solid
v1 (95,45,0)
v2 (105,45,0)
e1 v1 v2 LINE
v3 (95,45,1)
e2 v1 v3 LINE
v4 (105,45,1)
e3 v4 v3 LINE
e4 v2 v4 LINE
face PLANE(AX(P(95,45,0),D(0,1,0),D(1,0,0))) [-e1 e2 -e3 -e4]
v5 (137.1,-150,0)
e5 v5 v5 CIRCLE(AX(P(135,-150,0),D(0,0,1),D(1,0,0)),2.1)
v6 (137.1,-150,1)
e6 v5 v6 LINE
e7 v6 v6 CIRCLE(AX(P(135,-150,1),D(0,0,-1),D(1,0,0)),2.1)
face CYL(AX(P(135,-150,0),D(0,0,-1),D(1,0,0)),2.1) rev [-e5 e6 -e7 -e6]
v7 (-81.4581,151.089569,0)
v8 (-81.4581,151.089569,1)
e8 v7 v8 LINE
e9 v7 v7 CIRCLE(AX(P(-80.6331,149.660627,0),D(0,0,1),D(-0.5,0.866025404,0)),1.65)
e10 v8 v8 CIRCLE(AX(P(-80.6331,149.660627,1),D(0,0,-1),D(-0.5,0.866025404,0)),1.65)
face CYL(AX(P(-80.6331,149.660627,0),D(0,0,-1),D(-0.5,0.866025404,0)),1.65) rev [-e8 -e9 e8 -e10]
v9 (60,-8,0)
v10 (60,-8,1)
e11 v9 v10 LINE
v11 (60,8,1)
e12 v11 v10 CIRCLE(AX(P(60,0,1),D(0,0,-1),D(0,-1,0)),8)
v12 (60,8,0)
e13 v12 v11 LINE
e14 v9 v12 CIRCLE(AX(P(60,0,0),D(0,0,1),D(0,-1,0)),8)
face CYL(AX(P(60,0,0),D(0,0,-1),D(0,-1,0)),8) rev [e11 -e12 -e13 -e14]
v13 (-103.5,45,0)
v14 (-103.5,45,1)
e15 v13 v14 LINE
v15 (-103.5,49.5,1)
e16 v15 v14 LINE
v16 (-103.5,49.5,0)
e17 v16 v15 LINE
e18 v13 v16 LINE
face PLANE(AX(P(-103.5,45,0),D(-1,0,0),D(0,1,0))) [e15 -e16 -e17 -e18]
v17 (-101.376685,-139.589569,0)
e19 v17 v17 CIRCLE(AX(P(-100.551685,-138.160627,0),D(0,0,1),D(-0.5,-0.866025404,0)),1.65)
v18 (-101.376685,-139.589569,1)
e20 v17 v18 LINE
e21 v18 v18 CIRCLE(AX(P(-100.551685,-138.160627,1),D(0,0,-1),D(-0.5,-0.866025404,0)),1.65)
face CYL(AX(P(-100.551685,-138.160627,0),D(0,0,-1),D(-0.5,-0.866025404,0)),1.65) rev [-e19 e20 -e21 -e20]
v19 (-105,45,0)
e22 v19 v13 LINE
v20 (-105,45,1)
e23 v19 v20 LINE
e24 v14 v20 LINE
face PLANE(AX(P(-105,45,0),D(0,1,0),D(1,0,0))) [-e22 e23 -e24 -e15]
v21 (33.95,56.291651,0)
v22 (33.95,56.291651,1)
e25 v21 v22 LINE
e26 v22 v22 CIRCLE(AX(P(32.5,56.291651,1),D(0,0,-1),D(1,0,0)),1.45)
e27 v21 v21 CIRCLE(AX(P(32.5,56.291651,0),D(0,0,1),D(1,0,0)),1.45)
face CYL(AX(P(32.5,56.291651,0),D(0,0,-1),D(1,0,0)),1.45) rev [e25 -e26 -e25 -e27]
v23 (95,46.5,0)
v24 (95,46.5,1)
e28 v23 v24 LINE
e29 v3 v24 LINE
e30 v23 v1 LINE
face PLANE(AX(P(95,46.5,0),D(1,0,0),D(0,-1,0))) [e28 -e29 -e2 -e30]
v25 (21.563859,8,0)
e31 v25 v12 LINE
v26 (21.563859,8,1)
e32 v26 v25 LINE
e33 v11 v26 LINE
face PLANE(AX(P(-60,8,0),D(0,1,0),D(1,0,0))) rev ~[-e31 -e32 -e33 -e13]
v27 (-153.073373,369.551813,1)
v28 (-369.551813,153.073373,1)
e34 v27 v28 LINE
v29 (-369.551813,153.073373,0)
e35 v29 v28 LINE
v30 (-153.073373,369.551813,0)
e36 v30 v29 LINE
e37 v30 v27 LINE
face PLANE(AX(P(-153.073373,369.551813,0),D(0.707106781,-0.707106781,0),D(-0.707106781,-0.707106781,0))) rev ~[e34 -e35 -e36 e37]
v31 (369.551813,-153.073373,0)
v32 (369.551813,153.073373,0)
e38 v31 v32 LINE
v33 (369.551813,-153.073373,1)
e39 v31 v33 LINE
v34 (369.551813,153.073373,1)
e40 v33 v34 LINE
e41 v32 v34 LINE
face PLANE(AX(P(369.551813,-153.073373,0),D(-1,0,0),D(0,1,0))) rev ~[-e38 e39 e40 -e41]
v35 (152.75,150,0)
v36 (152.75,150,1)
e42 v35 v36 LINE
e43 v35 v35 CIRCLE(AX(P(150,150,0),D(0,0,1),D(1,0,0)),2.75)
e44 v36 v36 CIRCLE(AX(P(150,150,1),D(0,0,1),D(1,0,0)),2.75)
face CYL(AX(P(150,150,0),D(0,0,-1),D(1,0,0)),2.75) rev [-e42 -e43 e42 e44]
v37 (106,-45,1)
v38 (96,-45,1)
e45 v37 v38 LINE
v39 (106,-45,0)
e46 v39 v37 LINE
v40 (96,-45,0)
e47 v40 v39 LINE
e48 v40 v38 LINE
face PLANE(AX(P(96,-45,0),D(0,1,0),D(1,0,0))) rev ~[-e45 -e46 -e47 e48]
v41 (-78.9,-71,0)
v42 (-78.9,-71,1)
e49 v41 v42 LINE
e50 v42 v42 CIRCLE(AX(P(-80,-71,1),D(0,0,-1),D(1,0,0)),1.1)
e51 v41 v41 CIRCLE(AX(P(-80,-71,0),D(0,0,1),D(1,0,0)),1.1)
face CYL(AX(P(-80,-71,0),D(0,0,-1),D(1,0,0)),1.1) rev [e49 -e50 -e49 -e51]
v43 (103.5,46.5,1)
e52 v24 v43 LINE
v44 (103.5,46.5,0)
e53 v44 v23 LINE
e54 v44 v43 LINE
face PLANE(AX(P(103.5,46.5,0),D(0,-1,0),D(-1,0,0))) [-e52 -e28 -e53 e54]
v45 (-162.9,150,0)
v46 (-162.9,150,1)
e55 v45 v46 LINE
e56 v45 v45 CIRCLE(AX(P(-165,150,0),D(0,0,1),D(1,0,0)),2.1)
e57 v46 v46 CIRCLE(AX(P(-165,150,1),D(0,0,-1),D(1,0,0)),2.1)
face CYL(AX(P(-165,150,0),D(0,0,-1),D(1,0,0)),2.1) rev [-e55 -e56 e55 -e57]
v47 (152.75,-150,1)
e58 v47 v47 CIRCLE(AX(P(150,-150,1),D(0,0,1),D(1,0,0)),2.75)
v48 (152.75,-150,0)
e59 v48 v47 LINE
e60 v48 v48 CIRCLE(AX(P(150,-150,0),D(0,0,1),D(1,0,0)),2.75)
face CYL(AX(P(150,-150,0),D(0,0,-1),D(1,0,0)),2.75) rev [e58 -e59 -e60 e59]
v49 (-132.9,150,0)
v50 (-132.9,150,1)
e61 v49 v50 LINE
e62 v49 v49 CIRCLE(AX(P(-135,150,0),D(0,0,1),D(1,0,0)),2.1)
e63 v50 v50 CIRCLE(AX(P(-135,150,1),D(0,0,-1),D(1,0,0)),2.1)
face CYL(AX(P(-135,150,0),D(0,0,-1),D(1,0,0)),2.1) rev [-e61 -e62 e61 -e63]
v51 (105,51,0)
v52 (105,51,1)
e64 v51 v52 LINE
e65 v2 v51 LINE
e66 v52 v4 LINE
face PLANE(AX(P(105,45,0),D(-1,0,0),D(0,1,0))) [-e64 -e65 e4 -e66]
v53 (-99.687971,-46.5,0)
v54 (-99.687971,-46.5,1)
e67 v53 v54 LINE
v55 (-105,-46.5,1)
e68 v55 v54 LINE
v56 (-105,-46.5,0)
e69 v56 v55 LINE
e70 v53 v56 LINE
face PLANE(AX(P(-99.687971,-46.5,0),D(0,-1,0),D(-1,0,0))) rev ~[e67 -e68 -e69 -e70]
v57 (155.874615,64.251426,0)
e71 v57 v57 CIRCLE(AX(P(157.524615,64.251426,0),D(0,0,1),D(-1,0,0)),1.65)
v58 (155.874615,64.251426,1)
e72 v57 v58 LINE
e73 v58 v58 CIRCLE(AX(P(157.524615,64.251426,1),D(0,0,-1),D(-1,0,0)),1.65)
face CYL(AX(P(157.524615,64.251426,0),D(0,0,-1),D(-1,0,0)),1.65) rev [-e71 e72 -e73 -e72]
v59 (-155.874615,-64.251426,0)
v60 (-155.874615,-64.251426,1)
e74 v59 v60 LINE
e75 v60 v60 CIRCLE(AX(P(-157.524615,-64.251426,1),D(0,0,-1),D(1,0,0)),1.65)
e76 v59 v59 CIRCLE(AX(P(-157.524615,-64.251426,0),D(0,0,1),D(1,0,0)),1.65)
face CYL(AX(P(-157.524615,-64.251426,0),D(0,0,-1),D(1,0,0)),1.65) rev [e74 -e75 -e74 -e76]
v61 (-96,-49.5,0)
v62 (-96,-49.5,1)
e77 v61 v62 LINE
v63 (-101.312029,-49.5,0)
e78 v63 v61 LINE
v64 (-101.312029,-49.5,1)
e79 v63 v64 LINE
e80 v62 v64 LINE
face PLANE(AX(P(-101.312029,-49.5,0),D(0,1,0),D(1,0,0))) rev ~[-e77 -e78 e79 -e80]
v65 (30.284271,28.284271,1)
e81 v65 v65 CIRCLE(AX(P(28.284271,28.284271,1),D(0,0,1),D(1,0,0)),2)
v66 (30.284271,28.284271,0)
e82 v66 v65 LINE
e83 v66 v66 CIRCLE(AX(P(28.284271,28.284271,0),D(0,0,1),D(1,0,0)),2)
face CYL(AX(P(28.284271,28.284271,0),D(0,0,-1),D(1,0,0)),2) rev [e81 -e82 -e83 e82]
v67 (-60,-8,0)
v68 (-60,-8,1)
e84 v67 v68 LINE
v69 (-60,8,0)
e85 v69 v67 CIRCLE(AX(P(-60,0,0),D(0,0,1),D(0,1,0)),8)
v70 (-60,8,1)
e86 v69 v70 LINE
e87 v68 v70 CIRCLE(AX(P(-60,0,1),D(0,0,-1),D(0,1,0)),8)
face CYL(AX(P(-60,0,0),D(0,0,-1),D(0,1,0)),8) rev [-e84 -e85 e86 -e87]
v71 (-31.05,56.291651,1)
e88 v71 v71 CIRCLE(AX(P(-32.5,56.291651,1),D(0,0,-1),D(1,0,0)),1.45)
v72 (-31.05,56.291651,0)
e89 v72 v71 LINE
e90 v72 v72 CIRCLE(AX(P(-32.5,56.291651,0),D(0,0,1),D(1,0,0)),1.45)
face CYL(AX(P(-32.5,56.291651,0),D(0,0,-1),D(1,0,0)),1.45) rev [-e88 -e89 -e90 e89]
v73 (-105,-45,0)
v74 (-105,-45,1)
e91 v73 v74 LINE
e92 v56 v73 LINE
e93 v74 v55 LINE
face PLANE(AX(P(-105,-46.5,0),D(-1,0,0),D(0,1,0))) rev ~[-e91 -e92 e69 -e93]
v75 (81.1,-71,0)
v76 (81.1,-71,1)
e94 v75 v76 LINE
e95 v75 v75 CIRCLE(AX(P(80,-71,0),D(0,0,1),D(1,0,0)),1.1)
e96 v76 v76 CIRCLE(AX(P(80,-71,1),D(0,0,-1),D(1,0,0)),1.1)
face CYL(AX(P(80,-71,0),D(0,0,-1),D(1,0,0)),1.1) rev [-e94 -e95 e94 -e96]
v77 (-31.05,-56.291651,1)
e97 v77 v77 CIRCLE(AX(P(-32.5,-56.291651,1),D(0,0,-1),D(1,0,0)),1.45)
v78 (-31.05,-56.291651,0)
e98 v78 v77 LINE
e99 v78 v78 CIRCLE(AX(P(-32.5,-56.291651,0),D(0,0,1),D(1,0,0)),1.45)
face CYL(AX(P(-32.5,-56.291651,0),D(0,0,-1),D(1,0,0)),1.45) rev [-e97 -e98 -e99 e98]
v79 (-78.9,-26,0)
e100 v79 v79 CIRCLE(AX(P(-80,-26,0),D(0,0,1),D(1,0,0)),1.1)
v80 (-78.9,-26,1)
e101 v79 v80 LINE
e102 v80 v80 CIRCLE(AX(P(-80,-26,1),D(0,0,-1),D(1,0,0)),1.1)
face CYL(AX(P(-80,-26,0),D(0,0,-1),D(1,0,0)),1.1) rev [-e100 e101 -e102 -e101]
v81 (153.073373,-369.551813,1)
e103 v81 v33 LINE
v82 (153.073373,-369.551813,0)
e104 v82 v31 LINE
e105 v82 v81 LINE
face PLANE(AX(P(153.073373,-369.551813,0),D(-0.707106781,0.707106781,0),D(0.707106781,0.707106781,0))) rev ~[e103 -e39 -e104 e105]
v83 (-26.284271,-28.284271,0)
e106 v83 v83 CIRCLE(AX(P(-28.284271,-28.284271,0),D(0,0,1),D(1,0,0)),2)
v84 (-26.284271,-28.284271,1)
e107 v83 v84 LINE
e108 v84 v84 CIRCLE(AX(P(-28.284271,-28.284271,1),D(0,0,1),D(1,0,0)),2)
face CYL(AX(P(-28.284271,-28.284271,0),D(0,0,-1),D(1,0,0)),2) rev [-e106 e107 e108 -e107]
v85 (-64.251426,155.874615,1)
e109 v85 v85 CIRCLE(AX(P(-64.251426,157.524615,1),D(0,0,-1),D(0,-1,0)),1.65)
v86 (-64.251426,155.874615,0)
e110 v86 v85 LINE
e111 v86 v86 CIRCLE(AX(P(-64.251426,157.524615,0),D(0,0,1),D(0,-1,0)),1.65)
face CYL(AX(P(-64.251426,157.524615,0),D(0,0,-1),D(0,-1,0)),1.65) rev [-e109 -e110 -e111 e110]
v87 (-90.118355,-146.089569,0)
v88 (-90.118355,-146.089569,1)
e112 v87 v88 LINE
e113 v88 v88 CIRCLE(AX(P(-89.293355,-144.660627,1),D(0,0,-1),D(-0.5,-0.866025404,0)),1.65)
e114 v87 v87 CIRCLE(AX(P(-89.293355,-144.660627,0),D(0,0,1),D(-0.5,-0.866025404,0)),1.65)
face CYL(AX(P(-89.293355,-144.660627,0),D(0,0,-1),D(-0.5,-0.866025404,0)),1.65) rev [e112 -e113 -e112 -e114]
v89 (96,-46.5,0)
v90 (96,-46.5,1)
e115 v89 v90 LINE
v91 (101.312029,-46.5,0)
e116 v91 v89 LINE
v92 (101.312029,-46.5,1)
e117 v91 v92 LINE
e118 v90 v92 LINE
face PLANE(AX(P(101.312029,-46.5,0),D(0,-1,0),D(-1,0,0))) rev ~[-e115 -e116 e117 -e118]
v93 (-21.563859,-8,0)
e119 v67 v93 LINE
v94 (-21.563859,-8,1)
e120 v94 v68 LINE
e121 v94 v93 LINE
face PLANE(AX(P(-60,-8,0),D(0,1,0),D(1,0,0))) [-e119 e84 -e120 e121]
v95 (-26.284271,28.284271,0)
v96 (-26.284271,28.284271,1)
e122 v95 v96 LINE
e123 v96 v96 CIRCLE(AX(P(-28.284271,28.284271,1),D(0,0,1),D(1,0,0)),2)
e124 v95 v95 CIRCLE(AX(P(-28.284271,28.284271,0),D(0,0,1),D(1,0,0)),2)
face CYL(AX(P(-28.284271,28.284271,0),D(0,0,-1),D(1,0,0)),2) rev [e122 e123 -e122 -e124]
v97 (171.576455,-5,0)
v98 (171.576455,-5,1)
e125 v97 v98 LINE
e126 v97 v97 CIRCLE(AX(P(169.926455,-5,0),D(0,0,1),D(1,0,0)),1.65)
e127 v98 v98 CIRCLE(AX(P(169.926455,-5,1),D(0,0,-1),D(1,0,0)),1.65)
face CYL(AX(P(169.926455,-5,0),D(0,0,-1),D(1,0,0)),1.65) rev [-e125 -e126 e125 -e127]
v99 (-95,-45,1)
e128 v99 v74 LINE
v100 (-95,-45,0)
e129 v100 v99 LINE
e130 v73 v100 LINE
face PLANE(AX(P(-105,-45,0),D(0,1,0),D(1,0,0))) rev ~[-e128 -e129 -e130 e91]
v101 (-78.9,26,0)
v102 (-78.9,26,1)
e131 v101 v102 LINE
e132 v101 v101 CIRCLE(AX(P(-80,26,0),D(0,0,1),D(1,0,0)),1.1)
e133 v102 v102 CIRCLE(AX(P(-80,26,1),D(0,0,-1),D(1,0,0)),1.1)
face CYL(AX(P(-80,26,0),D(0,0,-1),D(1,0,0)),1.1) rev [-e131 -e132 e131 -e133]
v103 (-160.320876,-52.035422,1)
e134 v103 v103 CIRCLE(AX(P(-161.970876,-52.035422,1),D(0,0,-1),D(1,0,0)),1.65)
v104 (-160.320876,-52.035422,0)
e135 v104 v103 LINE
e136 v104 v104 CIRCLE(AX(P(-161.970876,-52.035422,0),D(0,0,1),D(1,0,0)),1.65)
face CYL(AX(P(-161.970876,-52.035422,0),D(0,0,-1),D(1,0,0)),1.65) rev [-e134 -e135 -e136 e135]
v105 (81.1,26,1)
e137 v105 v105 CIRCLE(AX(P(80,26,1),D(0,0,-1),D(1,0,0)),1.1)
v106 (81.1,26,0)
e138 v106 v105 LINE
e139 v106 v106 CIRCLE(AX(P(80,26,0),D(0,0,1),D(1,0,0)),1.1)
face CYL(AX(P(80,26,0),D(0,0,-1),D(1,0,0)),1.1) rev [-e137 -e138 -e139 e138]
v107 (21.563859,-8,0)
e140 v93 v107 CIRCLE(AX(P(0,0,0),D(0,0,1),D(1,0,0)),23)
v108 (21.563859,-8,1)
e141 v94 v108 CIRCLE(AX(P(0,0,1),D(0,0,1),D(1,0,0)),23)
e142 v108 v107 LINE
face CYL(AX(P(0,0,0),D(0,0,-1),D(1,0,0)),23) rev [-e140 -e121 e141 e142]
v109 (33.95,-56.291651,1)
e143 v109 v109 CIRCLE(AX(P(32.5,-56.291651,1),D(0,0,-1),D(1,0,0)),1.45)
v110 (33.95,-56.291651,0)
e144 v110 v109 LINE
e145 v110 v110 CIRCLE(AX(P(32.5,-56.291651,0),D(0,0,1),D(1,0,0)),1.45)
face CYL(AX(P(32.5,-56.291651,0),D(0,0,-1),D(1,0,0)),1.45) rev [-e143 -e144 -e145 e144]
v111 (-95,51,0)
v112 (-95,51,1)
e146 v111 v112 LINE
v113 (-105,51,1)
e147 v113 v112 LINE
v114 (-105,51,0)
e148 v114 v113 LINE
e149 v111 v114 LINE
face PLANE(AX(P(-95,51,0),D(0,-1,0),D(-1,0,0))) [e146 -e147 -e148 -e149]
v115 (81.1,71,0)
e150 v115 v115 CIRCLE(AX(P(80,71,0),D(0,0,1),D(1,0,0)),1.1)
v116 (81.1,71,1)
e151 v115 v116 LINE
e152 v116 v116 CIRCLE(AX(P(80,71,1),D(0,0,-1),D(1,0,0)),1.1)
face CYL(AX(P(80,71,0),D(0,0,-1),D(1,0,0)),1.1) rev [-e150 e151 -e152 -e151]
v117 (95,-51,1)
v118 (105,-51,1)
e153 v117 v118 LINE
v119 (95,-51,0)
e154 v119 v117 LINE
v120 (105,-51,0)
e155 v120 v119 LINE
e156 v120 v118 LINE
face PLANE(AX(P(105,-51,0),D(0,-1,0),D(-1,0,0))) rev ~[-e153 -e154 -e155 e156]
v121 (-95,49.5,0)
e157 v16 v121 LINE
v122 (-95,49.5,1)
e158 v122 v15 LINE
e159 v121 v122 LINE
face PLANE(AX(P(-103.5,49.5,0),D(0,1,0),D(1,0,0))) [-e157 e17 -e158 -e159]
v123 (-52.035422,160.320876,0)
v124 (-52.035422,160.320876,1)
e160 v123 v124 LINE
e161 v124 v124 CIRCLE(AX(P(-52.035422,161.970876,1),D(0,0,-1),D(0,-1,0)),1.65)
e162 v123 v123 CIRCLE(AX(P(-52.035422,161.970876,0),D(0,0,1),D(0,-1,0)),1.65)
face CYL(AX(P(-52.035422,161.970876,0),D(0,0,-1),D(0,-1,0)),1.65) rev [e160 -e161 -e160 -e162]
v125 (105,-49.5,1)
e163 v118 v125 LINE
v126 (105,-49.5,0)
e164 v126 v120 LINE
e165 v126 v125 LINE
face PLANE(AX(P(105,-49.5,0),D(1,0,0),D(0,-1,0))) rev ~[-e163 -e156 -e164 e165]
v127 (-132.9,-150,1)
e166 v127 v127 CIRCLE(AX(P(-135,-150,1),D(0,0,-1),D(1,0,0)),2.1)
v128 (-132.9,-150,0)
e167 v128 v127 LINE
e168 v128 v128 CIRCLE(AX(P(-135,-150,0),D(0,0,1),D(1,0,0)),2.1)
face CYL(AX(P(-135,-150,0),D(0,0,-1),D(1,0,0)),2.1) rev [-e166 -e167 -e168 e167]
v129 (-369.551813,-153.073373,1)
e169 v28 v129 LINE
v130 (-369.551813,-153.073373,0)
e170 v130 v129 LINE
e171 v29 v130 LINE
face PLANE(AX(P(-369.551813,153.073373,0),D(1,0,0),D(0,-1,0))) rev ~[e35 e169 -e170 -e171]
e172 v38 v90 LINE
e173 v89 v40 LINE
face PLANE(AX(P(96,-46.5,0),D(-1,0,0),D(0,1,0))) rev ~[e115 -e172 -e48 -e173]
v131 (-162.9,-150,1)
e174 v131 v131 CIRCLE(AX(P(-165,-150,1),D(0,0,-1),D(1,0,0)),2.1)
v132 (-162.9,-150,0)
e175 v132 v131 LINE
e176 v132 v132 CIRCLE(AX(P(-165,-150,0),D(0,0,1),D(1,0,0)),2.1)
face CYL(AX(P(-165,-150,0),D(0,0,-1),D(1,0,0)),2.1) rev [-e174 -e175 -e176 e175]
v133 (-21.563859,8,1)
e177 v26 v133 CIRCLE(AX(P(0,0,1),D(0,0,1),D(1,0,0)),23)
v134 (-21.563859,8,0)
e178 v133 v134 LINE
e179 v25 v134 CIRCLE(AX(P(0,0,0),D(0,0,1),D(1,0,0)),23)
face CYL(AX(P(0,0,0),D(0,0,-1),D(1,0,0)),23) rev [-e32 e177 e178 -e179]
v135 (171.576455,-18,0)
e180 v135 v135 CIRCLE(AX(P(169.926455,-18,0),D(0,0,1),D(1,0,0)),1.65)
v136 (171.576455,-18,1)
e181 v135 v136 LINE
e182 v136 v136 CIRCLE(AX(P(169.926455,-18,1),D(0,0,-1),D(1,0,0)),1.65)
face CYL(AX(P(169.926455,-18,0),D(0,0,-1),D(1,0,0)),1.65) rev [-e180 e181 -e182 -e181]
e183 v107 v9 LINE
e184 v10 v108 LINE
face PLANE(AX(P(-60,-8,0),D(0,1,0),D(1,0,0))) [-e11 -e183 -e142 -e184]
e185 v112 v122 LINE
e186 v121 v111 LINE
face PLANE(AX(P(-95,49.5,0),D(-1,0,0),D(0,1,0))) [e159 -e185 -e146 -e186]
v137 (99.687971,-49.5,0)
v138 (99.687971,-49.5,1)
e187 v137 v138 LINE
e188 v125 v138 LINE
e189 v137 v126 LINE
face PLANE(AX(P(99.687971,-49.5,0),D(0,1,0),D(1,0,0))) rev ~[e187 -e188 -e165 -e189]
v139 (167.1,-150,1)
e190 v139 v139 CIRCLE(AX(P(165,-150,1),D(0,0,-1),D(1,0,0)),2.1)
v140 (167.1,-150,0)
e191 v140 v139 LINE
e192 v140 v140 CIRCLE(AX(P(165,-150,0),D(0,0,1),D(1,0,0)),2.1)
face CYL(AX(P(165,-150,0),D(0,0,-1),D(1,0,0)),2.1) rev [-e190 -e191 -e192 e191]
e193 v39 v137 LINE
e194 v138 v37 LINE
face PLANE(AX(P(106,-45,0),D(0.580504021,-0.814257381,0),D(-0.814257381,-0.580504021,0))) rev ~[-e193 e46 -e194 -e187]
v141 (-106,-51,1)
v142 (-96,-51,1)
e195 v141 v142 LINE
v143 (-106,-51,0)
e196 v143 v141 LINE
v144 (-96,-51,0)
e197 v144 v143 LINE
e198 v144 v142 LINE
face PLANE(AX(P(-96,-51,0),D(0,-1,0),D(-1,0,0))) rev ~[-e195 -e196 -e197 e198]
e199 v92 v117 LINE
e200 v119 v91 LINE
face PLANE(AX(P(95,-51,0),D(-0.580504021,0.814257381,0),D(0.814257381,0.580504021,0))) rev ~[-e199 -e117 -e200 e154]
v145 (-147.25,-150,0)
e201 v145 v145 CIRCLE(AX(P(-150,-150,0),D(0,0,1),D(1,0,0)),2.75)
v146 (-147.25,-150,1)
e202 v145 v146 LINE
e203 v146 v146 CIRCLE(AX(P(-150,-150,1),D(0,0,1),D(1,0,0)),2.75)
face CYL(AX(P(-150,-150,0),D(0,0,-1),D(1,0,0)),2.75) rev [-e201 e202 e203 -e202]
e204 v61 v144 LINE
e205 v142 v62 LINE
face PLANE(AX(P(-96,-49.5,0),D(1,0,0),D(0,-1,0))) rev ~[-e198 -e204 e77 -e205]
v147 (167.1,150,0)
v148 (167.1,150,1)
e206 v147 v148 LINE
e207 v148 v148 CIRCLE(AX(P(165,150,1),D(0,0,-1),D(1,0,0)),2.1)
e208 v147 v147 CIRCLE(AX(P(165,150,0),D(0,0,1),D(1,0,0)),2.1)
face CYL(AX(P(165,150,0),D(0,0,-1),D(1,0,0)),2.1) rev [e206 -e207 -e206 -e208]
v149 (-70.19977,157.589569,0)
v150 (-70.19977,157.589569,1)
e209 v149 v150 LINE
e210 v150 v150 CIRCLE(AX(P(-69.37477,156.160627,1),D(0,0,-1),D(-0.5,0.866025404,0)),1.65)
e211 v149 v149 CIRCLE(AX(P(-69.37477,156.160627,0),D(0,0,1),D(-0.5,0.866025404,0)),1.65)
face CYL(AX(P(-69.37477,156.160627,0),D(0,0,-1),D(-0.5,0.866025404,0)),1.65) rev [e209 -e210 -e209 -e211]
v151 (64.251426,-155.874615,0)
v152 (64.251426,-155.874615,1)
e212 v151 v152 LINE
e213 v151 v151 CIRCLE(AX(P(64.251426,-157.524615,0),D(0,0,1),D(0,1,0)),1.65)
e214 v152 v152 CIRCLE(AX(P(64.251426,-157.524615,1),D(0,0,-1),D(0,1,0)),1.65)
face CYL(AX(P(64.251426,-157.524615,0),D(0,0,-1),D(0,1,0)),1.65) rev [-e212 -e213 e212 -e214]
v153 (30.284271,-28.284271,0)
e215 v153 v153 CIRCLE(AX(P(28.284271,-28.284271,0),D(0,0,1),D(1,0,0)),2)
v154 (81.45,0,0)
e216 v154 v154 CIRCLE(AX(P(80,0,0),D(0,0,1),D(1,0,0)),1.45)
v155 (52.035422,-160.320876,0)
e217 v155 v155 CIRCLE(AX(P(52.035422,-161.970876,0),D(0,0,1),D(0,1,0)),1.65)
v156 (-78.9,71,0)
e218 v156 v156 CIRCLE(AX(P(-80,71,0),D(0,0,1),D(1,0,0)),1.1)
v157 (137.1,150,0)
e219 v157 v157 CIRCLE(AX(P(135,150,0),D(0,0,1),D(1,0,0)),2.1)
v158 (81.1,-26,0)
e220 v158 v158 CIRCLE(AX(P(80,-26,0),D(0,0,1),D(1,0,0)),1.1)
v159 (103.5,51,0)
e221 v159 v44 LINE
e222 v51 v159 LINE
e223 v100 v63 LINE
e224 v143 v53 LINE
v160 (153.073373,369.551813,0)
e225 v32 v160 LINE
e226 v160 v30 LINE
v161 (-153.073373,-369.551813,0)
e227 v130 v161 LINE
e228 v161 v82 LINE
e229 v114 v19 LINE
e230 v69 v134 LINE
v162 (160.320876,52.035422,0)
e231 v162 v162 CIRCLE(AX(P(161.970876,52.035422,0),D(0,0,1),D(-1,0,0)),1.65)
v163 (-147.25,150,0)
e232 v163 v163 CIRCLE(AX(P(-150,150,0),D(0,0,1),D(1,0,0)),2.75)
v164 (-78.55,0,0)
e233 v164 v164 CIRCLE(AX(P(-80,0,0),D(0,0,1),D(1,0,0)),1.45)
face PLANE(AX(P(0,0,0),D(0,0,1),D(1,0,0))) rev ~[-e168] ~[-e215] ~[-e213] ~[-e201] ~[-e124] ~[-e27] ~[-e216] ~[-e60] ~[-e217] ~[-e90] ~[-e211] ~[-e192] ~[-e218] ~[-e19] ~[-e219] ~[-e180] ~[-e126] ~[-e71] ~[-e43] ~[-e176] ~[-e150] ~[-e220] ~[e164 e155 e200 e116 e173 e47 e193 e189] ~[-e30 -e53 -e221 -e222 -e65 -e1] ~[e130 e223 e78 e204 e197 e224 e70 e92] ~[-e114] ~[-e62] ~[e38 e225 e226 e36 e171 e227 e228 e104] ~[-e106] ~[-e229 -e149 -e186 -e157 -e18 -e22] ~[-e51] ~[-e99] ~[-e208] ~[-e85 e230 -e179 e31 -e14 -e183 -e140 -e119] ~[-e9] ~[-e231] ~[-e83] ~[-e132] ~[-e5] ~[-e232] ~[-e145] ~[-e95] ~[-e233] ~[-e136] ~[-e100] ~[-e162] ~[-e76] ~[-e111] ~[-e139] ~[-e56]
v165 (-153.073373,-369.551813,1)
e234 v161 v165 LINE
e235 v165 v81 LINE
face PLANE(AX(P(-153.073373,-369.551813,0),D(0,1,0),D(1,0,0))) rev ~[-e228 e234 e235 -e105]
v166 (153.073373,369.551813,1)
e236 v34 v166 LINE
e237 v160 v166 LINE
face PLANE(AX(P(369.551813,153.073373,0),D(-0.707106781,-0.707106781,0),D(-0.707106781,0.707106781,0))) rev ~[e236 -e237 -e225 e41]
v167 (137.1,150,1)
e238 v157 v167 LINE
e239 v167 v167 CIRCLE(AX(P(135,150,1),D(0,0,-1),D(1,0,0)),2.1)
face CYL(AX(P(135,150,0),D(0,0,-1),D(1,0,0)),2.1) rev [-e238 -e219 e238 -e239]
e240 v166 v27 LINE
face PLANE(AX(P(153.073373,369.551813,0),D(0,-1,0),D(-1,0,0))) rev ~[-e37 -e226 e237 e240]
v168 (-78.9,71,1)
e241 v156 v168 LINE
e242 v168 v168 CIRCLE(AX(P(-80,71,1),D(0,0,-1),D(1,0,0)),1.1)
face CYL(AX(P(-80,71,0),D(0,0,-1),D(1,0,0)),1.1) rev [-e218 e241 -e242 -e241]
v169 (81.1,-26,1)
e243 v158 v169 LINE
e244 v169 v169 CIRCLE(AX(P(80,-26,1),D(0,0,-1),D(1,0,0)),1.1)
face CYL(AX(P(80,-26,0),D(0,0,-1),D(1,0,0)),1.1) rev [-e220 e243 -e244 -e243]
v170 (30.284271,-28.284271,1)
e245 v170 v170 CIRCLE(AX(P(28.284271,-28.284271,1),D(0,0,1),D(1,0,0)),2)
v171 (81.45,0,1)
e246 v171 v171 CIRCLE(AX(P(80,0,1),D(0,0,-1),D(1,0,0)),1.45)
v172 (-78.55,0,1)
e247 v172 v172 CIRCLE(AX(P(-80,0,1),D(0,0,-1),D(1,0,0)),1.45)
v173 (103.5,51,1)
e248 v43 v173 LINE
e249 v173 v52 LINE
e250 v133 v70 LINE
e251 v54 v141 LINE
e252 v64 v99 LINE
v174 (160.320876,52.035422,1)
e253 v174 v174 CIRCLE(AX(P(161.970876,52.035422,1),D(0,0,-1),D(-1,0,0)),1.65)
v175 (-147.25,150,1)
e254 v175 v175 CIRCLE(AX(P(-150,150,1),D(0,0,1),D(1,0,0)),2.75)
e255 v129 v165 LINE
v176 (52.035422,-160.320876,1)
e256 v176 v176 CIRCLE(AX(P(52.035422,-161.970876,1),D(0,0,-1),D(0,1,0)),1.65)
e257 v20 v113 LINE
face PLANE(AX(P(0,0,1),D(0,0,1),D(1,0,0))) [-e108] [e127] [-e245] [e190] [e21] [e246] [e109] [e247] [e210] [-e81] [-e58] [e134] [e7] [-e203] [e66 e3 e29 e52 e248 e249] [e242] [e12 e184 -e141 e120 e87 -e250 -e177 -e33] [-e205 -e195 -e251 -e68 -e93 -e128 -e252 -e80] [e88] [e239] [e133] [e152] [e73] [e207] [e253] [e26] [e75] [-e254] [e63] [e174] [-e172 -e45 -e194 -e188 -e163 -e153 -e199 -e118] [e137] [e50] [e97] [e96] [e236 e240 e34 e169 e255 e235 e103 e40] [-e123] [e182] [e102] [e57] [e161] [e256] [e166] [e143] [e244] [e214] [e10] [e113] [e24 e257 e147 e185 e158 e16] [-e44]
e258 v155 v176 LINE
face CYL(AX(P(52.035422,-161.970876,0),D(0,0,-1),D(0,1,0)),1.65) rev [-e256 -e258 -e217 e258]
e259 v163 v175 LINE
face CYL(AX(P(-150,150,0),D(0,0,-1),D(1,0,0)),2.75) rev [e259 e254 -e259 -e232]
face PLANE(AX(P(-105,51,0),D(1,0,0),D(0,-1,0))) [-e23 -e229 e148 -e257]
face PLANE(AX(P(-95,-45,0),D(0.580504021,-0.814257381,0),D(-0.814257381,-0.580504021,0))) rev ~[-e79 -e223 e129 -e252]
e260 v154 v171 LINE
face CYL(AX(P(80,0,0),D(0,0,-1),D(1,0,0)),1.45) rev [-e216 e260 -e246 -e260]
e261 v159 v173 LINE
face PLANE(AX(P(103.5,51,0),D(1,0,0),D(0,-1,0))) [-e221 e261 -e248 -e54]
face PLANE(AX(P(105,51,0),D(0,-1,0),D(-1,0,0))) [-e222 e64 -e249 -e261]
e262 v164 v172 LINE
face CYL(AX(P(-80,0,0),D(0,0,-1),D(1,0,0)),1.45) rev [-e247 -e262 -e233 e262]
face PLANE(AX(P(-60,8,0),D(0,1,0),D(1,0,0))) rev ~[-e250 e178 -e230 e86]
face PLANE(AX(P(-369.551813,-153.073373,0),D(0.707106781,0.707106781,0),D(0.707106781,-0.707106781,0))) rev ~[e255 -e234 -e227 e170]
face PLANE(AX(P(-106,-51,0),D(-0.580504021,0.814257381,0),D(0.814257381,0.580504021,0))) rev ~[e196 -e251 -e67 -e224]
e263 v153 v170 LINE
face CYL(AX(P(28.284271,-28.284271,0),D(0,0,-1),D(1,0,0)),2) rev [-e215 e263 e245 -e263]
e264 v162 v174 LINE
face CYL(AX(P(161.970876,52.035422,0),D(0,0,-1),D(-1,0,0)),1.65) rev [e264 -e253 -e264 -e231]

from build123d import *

# Parameters (mm, degrees)
SKETCH_R              = 23
SKETCH_R_2            = 2.75
SKETCH_R_3            = 2
PAD_DEPTH             = 1
SKETCH001_R           = 1.65
POCKET_DEPTH          = 1415.215977
POLARPATTERN_COUNT    = 3
POCKET001_DEPTH       = 5
SKETCH003_R           = 1.1
SKETCH003_R_2         = 1.45
POCKET002_DEPTH       = 1.001
SKETCH004_R           = 1.45
POCKET003_DEPTH       = 1.001
SKETCH005_R           = 2.1
POCKET004_DEPTH       = 1.001
SKETCH006_R           = 1.65
POCKET005_DEPTH       = 1415.215977
POLARPATTERN001_COUNT = 4
FILLET_R              = 15
PAD001_DEPTH          = 1


with BuildPart() as part:
    # Sketch → Pad (new body)
    with BuildSketch(Plane.XY):
        Polygon((103.553391, 250), (-103.553391, 250), (-250, 103.553391), (-250, -103.553391), (-103.553391, -250), (103.553391, -250), (250, -103.553391), (250, 103.553391), align=None)
        Circle(SKETCH_R, mode=Mode.SUBTRACT)
        with Locations((150, 150)):
            Circle(SKETCH_R_2, mode=Mode.SUBTRACT)
        with Locations((-150, 150)):
            Circle(SKETCH_R_2, mode=Mode.SUBTRACT)
        with Locations((-150, -150)):
            Circle(SKETCH_R_2, mode=Mode.SUBTRACT)
        with Locations((150, -150)):
            Circle(SKETCH_R_2, mode=Mode.SUBTRACT)
        with Locations((28.284271, 28.284271)):
            Circle(SKETCH_R_3, mode=Mode.SUBTRACT)
        with Locations((-28.284271, 28.284271)):
            Circle(SKETCH_R_3, mode=Mode.SUBTRACT)
        with Locations((-28.284271, -28.284271)):
            Circle(SKETCH_R_3, mode=Mode.SUBTRACT)
        with Locations((28.284271, -28.284271)):
            Circle(SKETCH_R_3, mode=Mode.SUBTRACT)
    extrude(amount=PAD_DEPTH)

    # Sketch001 → Pocket (cut, through all)
    with BuildSketch(Plane.XY):
        with Locations((169.926455, -5)):
            Circle(SKETCH001_R)
        with Locations((169.926455, -18)):
            Circle(SKETCH001_R)
    pocket = extrude(amount=POCKET_DEPTH, mode=Mode.SUBTRACT)

    # PolarPattern: Pocket ×3 about axis
    polarpattern_axis = Axis((0, 0, 0), (0, 0, 1))
    for i in range(1, POLARPATTERN_COUNT):
        add(pocket.rotate(polarpattern_axis, i * 360 / POLARPATTERN_COUNT), mode=Mode.SUBTRACT)

    # Sketch002 → Pocket001 (cut)
    with BuildSketch(Plane.XY):
        with BuildLine():
            ThreePointArc((-60, 8), (-68, 0), (-60, -8))
            Line((-60, -8), (60, -8))
            ThreePointArc((60, -8), (68, 0), (60, 8))
            Line((-60, 8), (60, 8))
        make_face()
    extrude(amount=POCKET001_DEPTH, mode=Mode.SUBTRACT)

    # Sketch003 → Pocket002 (cut, through all)
    with BuildSketch(Plane.XY):
        with Locations((-80, 71)):
            Circle(SKETCH003_R)
        with Locations((-80, 26)):
            Circle(SKETCH003_R)
        with Locations((-80, -26)):
            Circle(SKETCH003_R)
        with Locations((-80, -71)):
            Circle(SKETCH003_R)
        with Locations((-80, 0)):
            Circle(SKETCH003_R_2)
        with Locations((80, 71)):
            Circle(SKETCH003_R)
        with Locations((80, 26)):
            Circle(SKETCH003_R)
        with Locations((80, 0)):
            Circle(SKETCH003_R_2)
        with Locations((80, -26)):
            Circle(SKETCH003_R)
        with Locations((80, -71)):
            Circle(SKETCH003_R)
        Polygon((-95, 51), (-105, 51), (-105, 45), (-103.5, 45), (-103.5, 49.5), (-95, 49.5), align=None)
        Polygon((-105, -45), (-95, -45), (-101.312029, -49.5), (-96, -49.5), (-96, -51), (-106, -51), (-99.687971, -46.5), (-105, -46.5), align=None)
        Polygon((105, -51), (95, -51), (101.312029, -46.5), (96, -46.5), (96, -45), (106, -45), (99.687971, -49.5), (105, -49.5), align=None)
        Polygon((95, 45), (105, 45), (105, 51), (103.5, 51), (103.5, 46.5), (95, 46.5), align=None)
    extrude(amount=POCKET002_DEPTH, mode=Mode.SUBTRACT)

    # Sketch004 → Pocket003 (cut, through all)
    with BuildSketch(Plane.XY):
        with Locations((-32.5, -56.291651)):
            Circle(SKETCH004_R)
        with Locations((32.5, -56.291651)):
            Circle(SKETCH004_R)
        with Locations((-32.5, 56.291651)):
            Circle(SKETCH004_R)
        with Locations((32.5, 56.291651)):
            Circle(SKETCH004_R)
    extrude(amount=POCKET003_DEPTH, mode=Mode.SUBTRACT)

    # Sketch005 → Pocket004 (cut, through all)
    with BuildSketch(Plane.XY):
        with Locations((135, 150)):
            Circle(SKETCH005_R)
        with Locations((165, 150)):
            Circle(SKETCH005_R)
        with Locations((-165, 150)):
            Circle(SKETCH005_R)
        with Locations((-135, 150)):
            Circle(SKETCH005_R)
        with Locations((-165, -150)):
            Circle(SKETCH005_R)
        with Locations((-135, -150)):
            Circle(SKETCH005_R)
        with Locations((135, -150)):
            Circle(SKETCH005_R)
        with Locations((165, -150)):
            Circle(SKETCH005_R)
    extrude(amount=POCKET004_DEPTH, mode=Mode.SUBTRACT)

    # Sketch006 → Pocket005 (cut, through all)
    with BuildSketch(Plane.XY):
        with Locations((-161.970876, -52.035422)):
            Circle(SKETCH006_R)
        with Locations((-157.524615, -64.251426)):
            Circle(SKETCH006_R)
    pocket005 = extrude(amount=POCKET005_DEPTH, mode=Mode.SUBTRACT)

    # PolarPattern001: Pocket005 ×4 about axis
    polarpattern001_axis = Axis((0, 0, 0), (0, 0, 1))
    for i in range(1, POLARPATTERN001_COUNT):
        add(pocket005.rotate(polarpattern001_axis, i * 360 / POLARPATTERN001_COUNT), mode=Mode.SUBTRACT)

    # Fillet
    fillet_edges = [part.edges().sort_by_distance(p)[0] for p in [
        (-250, -103.553391, 0.5),
        (-103.553391, -250, 0.5),
        (103.553391, -250, 0.5),
        (-250, 103.553391, 0.5),
        (-103.553391, 250, 0.5),
        (103.553391, 250, 0.5),
        (250, 103.553391, 0.5),
        (250, -103.553391, 0.5),
    ]]
    fillet(fillet_edges, radius=FILLET_R)

    # Sketch007 → Pad001 (join)
    with BuildSketch(Plane.XY):
        Polygon((369.551813, 153.073373), (153.073373, 369.551813), (-153.073373, 369.551813), (-369.551813, 153.073373), (-369.551813, -153.073373), (-153.073373, -369.551813), (153.073373, -369.551813), (369.551813, -153.073373), align=None)
        Polygon((241.421356, 100), (100, 241.421356), (-100, 241.421356), (-241.421356, 100), (-241.421356, -100), (-100, -241.421356), (100, -241.421356), (241.421356, -100), align=None, mode=Mode.SUBTRACT)
    extrude(amount=PAD001_DEPTH)


solid = part.part
